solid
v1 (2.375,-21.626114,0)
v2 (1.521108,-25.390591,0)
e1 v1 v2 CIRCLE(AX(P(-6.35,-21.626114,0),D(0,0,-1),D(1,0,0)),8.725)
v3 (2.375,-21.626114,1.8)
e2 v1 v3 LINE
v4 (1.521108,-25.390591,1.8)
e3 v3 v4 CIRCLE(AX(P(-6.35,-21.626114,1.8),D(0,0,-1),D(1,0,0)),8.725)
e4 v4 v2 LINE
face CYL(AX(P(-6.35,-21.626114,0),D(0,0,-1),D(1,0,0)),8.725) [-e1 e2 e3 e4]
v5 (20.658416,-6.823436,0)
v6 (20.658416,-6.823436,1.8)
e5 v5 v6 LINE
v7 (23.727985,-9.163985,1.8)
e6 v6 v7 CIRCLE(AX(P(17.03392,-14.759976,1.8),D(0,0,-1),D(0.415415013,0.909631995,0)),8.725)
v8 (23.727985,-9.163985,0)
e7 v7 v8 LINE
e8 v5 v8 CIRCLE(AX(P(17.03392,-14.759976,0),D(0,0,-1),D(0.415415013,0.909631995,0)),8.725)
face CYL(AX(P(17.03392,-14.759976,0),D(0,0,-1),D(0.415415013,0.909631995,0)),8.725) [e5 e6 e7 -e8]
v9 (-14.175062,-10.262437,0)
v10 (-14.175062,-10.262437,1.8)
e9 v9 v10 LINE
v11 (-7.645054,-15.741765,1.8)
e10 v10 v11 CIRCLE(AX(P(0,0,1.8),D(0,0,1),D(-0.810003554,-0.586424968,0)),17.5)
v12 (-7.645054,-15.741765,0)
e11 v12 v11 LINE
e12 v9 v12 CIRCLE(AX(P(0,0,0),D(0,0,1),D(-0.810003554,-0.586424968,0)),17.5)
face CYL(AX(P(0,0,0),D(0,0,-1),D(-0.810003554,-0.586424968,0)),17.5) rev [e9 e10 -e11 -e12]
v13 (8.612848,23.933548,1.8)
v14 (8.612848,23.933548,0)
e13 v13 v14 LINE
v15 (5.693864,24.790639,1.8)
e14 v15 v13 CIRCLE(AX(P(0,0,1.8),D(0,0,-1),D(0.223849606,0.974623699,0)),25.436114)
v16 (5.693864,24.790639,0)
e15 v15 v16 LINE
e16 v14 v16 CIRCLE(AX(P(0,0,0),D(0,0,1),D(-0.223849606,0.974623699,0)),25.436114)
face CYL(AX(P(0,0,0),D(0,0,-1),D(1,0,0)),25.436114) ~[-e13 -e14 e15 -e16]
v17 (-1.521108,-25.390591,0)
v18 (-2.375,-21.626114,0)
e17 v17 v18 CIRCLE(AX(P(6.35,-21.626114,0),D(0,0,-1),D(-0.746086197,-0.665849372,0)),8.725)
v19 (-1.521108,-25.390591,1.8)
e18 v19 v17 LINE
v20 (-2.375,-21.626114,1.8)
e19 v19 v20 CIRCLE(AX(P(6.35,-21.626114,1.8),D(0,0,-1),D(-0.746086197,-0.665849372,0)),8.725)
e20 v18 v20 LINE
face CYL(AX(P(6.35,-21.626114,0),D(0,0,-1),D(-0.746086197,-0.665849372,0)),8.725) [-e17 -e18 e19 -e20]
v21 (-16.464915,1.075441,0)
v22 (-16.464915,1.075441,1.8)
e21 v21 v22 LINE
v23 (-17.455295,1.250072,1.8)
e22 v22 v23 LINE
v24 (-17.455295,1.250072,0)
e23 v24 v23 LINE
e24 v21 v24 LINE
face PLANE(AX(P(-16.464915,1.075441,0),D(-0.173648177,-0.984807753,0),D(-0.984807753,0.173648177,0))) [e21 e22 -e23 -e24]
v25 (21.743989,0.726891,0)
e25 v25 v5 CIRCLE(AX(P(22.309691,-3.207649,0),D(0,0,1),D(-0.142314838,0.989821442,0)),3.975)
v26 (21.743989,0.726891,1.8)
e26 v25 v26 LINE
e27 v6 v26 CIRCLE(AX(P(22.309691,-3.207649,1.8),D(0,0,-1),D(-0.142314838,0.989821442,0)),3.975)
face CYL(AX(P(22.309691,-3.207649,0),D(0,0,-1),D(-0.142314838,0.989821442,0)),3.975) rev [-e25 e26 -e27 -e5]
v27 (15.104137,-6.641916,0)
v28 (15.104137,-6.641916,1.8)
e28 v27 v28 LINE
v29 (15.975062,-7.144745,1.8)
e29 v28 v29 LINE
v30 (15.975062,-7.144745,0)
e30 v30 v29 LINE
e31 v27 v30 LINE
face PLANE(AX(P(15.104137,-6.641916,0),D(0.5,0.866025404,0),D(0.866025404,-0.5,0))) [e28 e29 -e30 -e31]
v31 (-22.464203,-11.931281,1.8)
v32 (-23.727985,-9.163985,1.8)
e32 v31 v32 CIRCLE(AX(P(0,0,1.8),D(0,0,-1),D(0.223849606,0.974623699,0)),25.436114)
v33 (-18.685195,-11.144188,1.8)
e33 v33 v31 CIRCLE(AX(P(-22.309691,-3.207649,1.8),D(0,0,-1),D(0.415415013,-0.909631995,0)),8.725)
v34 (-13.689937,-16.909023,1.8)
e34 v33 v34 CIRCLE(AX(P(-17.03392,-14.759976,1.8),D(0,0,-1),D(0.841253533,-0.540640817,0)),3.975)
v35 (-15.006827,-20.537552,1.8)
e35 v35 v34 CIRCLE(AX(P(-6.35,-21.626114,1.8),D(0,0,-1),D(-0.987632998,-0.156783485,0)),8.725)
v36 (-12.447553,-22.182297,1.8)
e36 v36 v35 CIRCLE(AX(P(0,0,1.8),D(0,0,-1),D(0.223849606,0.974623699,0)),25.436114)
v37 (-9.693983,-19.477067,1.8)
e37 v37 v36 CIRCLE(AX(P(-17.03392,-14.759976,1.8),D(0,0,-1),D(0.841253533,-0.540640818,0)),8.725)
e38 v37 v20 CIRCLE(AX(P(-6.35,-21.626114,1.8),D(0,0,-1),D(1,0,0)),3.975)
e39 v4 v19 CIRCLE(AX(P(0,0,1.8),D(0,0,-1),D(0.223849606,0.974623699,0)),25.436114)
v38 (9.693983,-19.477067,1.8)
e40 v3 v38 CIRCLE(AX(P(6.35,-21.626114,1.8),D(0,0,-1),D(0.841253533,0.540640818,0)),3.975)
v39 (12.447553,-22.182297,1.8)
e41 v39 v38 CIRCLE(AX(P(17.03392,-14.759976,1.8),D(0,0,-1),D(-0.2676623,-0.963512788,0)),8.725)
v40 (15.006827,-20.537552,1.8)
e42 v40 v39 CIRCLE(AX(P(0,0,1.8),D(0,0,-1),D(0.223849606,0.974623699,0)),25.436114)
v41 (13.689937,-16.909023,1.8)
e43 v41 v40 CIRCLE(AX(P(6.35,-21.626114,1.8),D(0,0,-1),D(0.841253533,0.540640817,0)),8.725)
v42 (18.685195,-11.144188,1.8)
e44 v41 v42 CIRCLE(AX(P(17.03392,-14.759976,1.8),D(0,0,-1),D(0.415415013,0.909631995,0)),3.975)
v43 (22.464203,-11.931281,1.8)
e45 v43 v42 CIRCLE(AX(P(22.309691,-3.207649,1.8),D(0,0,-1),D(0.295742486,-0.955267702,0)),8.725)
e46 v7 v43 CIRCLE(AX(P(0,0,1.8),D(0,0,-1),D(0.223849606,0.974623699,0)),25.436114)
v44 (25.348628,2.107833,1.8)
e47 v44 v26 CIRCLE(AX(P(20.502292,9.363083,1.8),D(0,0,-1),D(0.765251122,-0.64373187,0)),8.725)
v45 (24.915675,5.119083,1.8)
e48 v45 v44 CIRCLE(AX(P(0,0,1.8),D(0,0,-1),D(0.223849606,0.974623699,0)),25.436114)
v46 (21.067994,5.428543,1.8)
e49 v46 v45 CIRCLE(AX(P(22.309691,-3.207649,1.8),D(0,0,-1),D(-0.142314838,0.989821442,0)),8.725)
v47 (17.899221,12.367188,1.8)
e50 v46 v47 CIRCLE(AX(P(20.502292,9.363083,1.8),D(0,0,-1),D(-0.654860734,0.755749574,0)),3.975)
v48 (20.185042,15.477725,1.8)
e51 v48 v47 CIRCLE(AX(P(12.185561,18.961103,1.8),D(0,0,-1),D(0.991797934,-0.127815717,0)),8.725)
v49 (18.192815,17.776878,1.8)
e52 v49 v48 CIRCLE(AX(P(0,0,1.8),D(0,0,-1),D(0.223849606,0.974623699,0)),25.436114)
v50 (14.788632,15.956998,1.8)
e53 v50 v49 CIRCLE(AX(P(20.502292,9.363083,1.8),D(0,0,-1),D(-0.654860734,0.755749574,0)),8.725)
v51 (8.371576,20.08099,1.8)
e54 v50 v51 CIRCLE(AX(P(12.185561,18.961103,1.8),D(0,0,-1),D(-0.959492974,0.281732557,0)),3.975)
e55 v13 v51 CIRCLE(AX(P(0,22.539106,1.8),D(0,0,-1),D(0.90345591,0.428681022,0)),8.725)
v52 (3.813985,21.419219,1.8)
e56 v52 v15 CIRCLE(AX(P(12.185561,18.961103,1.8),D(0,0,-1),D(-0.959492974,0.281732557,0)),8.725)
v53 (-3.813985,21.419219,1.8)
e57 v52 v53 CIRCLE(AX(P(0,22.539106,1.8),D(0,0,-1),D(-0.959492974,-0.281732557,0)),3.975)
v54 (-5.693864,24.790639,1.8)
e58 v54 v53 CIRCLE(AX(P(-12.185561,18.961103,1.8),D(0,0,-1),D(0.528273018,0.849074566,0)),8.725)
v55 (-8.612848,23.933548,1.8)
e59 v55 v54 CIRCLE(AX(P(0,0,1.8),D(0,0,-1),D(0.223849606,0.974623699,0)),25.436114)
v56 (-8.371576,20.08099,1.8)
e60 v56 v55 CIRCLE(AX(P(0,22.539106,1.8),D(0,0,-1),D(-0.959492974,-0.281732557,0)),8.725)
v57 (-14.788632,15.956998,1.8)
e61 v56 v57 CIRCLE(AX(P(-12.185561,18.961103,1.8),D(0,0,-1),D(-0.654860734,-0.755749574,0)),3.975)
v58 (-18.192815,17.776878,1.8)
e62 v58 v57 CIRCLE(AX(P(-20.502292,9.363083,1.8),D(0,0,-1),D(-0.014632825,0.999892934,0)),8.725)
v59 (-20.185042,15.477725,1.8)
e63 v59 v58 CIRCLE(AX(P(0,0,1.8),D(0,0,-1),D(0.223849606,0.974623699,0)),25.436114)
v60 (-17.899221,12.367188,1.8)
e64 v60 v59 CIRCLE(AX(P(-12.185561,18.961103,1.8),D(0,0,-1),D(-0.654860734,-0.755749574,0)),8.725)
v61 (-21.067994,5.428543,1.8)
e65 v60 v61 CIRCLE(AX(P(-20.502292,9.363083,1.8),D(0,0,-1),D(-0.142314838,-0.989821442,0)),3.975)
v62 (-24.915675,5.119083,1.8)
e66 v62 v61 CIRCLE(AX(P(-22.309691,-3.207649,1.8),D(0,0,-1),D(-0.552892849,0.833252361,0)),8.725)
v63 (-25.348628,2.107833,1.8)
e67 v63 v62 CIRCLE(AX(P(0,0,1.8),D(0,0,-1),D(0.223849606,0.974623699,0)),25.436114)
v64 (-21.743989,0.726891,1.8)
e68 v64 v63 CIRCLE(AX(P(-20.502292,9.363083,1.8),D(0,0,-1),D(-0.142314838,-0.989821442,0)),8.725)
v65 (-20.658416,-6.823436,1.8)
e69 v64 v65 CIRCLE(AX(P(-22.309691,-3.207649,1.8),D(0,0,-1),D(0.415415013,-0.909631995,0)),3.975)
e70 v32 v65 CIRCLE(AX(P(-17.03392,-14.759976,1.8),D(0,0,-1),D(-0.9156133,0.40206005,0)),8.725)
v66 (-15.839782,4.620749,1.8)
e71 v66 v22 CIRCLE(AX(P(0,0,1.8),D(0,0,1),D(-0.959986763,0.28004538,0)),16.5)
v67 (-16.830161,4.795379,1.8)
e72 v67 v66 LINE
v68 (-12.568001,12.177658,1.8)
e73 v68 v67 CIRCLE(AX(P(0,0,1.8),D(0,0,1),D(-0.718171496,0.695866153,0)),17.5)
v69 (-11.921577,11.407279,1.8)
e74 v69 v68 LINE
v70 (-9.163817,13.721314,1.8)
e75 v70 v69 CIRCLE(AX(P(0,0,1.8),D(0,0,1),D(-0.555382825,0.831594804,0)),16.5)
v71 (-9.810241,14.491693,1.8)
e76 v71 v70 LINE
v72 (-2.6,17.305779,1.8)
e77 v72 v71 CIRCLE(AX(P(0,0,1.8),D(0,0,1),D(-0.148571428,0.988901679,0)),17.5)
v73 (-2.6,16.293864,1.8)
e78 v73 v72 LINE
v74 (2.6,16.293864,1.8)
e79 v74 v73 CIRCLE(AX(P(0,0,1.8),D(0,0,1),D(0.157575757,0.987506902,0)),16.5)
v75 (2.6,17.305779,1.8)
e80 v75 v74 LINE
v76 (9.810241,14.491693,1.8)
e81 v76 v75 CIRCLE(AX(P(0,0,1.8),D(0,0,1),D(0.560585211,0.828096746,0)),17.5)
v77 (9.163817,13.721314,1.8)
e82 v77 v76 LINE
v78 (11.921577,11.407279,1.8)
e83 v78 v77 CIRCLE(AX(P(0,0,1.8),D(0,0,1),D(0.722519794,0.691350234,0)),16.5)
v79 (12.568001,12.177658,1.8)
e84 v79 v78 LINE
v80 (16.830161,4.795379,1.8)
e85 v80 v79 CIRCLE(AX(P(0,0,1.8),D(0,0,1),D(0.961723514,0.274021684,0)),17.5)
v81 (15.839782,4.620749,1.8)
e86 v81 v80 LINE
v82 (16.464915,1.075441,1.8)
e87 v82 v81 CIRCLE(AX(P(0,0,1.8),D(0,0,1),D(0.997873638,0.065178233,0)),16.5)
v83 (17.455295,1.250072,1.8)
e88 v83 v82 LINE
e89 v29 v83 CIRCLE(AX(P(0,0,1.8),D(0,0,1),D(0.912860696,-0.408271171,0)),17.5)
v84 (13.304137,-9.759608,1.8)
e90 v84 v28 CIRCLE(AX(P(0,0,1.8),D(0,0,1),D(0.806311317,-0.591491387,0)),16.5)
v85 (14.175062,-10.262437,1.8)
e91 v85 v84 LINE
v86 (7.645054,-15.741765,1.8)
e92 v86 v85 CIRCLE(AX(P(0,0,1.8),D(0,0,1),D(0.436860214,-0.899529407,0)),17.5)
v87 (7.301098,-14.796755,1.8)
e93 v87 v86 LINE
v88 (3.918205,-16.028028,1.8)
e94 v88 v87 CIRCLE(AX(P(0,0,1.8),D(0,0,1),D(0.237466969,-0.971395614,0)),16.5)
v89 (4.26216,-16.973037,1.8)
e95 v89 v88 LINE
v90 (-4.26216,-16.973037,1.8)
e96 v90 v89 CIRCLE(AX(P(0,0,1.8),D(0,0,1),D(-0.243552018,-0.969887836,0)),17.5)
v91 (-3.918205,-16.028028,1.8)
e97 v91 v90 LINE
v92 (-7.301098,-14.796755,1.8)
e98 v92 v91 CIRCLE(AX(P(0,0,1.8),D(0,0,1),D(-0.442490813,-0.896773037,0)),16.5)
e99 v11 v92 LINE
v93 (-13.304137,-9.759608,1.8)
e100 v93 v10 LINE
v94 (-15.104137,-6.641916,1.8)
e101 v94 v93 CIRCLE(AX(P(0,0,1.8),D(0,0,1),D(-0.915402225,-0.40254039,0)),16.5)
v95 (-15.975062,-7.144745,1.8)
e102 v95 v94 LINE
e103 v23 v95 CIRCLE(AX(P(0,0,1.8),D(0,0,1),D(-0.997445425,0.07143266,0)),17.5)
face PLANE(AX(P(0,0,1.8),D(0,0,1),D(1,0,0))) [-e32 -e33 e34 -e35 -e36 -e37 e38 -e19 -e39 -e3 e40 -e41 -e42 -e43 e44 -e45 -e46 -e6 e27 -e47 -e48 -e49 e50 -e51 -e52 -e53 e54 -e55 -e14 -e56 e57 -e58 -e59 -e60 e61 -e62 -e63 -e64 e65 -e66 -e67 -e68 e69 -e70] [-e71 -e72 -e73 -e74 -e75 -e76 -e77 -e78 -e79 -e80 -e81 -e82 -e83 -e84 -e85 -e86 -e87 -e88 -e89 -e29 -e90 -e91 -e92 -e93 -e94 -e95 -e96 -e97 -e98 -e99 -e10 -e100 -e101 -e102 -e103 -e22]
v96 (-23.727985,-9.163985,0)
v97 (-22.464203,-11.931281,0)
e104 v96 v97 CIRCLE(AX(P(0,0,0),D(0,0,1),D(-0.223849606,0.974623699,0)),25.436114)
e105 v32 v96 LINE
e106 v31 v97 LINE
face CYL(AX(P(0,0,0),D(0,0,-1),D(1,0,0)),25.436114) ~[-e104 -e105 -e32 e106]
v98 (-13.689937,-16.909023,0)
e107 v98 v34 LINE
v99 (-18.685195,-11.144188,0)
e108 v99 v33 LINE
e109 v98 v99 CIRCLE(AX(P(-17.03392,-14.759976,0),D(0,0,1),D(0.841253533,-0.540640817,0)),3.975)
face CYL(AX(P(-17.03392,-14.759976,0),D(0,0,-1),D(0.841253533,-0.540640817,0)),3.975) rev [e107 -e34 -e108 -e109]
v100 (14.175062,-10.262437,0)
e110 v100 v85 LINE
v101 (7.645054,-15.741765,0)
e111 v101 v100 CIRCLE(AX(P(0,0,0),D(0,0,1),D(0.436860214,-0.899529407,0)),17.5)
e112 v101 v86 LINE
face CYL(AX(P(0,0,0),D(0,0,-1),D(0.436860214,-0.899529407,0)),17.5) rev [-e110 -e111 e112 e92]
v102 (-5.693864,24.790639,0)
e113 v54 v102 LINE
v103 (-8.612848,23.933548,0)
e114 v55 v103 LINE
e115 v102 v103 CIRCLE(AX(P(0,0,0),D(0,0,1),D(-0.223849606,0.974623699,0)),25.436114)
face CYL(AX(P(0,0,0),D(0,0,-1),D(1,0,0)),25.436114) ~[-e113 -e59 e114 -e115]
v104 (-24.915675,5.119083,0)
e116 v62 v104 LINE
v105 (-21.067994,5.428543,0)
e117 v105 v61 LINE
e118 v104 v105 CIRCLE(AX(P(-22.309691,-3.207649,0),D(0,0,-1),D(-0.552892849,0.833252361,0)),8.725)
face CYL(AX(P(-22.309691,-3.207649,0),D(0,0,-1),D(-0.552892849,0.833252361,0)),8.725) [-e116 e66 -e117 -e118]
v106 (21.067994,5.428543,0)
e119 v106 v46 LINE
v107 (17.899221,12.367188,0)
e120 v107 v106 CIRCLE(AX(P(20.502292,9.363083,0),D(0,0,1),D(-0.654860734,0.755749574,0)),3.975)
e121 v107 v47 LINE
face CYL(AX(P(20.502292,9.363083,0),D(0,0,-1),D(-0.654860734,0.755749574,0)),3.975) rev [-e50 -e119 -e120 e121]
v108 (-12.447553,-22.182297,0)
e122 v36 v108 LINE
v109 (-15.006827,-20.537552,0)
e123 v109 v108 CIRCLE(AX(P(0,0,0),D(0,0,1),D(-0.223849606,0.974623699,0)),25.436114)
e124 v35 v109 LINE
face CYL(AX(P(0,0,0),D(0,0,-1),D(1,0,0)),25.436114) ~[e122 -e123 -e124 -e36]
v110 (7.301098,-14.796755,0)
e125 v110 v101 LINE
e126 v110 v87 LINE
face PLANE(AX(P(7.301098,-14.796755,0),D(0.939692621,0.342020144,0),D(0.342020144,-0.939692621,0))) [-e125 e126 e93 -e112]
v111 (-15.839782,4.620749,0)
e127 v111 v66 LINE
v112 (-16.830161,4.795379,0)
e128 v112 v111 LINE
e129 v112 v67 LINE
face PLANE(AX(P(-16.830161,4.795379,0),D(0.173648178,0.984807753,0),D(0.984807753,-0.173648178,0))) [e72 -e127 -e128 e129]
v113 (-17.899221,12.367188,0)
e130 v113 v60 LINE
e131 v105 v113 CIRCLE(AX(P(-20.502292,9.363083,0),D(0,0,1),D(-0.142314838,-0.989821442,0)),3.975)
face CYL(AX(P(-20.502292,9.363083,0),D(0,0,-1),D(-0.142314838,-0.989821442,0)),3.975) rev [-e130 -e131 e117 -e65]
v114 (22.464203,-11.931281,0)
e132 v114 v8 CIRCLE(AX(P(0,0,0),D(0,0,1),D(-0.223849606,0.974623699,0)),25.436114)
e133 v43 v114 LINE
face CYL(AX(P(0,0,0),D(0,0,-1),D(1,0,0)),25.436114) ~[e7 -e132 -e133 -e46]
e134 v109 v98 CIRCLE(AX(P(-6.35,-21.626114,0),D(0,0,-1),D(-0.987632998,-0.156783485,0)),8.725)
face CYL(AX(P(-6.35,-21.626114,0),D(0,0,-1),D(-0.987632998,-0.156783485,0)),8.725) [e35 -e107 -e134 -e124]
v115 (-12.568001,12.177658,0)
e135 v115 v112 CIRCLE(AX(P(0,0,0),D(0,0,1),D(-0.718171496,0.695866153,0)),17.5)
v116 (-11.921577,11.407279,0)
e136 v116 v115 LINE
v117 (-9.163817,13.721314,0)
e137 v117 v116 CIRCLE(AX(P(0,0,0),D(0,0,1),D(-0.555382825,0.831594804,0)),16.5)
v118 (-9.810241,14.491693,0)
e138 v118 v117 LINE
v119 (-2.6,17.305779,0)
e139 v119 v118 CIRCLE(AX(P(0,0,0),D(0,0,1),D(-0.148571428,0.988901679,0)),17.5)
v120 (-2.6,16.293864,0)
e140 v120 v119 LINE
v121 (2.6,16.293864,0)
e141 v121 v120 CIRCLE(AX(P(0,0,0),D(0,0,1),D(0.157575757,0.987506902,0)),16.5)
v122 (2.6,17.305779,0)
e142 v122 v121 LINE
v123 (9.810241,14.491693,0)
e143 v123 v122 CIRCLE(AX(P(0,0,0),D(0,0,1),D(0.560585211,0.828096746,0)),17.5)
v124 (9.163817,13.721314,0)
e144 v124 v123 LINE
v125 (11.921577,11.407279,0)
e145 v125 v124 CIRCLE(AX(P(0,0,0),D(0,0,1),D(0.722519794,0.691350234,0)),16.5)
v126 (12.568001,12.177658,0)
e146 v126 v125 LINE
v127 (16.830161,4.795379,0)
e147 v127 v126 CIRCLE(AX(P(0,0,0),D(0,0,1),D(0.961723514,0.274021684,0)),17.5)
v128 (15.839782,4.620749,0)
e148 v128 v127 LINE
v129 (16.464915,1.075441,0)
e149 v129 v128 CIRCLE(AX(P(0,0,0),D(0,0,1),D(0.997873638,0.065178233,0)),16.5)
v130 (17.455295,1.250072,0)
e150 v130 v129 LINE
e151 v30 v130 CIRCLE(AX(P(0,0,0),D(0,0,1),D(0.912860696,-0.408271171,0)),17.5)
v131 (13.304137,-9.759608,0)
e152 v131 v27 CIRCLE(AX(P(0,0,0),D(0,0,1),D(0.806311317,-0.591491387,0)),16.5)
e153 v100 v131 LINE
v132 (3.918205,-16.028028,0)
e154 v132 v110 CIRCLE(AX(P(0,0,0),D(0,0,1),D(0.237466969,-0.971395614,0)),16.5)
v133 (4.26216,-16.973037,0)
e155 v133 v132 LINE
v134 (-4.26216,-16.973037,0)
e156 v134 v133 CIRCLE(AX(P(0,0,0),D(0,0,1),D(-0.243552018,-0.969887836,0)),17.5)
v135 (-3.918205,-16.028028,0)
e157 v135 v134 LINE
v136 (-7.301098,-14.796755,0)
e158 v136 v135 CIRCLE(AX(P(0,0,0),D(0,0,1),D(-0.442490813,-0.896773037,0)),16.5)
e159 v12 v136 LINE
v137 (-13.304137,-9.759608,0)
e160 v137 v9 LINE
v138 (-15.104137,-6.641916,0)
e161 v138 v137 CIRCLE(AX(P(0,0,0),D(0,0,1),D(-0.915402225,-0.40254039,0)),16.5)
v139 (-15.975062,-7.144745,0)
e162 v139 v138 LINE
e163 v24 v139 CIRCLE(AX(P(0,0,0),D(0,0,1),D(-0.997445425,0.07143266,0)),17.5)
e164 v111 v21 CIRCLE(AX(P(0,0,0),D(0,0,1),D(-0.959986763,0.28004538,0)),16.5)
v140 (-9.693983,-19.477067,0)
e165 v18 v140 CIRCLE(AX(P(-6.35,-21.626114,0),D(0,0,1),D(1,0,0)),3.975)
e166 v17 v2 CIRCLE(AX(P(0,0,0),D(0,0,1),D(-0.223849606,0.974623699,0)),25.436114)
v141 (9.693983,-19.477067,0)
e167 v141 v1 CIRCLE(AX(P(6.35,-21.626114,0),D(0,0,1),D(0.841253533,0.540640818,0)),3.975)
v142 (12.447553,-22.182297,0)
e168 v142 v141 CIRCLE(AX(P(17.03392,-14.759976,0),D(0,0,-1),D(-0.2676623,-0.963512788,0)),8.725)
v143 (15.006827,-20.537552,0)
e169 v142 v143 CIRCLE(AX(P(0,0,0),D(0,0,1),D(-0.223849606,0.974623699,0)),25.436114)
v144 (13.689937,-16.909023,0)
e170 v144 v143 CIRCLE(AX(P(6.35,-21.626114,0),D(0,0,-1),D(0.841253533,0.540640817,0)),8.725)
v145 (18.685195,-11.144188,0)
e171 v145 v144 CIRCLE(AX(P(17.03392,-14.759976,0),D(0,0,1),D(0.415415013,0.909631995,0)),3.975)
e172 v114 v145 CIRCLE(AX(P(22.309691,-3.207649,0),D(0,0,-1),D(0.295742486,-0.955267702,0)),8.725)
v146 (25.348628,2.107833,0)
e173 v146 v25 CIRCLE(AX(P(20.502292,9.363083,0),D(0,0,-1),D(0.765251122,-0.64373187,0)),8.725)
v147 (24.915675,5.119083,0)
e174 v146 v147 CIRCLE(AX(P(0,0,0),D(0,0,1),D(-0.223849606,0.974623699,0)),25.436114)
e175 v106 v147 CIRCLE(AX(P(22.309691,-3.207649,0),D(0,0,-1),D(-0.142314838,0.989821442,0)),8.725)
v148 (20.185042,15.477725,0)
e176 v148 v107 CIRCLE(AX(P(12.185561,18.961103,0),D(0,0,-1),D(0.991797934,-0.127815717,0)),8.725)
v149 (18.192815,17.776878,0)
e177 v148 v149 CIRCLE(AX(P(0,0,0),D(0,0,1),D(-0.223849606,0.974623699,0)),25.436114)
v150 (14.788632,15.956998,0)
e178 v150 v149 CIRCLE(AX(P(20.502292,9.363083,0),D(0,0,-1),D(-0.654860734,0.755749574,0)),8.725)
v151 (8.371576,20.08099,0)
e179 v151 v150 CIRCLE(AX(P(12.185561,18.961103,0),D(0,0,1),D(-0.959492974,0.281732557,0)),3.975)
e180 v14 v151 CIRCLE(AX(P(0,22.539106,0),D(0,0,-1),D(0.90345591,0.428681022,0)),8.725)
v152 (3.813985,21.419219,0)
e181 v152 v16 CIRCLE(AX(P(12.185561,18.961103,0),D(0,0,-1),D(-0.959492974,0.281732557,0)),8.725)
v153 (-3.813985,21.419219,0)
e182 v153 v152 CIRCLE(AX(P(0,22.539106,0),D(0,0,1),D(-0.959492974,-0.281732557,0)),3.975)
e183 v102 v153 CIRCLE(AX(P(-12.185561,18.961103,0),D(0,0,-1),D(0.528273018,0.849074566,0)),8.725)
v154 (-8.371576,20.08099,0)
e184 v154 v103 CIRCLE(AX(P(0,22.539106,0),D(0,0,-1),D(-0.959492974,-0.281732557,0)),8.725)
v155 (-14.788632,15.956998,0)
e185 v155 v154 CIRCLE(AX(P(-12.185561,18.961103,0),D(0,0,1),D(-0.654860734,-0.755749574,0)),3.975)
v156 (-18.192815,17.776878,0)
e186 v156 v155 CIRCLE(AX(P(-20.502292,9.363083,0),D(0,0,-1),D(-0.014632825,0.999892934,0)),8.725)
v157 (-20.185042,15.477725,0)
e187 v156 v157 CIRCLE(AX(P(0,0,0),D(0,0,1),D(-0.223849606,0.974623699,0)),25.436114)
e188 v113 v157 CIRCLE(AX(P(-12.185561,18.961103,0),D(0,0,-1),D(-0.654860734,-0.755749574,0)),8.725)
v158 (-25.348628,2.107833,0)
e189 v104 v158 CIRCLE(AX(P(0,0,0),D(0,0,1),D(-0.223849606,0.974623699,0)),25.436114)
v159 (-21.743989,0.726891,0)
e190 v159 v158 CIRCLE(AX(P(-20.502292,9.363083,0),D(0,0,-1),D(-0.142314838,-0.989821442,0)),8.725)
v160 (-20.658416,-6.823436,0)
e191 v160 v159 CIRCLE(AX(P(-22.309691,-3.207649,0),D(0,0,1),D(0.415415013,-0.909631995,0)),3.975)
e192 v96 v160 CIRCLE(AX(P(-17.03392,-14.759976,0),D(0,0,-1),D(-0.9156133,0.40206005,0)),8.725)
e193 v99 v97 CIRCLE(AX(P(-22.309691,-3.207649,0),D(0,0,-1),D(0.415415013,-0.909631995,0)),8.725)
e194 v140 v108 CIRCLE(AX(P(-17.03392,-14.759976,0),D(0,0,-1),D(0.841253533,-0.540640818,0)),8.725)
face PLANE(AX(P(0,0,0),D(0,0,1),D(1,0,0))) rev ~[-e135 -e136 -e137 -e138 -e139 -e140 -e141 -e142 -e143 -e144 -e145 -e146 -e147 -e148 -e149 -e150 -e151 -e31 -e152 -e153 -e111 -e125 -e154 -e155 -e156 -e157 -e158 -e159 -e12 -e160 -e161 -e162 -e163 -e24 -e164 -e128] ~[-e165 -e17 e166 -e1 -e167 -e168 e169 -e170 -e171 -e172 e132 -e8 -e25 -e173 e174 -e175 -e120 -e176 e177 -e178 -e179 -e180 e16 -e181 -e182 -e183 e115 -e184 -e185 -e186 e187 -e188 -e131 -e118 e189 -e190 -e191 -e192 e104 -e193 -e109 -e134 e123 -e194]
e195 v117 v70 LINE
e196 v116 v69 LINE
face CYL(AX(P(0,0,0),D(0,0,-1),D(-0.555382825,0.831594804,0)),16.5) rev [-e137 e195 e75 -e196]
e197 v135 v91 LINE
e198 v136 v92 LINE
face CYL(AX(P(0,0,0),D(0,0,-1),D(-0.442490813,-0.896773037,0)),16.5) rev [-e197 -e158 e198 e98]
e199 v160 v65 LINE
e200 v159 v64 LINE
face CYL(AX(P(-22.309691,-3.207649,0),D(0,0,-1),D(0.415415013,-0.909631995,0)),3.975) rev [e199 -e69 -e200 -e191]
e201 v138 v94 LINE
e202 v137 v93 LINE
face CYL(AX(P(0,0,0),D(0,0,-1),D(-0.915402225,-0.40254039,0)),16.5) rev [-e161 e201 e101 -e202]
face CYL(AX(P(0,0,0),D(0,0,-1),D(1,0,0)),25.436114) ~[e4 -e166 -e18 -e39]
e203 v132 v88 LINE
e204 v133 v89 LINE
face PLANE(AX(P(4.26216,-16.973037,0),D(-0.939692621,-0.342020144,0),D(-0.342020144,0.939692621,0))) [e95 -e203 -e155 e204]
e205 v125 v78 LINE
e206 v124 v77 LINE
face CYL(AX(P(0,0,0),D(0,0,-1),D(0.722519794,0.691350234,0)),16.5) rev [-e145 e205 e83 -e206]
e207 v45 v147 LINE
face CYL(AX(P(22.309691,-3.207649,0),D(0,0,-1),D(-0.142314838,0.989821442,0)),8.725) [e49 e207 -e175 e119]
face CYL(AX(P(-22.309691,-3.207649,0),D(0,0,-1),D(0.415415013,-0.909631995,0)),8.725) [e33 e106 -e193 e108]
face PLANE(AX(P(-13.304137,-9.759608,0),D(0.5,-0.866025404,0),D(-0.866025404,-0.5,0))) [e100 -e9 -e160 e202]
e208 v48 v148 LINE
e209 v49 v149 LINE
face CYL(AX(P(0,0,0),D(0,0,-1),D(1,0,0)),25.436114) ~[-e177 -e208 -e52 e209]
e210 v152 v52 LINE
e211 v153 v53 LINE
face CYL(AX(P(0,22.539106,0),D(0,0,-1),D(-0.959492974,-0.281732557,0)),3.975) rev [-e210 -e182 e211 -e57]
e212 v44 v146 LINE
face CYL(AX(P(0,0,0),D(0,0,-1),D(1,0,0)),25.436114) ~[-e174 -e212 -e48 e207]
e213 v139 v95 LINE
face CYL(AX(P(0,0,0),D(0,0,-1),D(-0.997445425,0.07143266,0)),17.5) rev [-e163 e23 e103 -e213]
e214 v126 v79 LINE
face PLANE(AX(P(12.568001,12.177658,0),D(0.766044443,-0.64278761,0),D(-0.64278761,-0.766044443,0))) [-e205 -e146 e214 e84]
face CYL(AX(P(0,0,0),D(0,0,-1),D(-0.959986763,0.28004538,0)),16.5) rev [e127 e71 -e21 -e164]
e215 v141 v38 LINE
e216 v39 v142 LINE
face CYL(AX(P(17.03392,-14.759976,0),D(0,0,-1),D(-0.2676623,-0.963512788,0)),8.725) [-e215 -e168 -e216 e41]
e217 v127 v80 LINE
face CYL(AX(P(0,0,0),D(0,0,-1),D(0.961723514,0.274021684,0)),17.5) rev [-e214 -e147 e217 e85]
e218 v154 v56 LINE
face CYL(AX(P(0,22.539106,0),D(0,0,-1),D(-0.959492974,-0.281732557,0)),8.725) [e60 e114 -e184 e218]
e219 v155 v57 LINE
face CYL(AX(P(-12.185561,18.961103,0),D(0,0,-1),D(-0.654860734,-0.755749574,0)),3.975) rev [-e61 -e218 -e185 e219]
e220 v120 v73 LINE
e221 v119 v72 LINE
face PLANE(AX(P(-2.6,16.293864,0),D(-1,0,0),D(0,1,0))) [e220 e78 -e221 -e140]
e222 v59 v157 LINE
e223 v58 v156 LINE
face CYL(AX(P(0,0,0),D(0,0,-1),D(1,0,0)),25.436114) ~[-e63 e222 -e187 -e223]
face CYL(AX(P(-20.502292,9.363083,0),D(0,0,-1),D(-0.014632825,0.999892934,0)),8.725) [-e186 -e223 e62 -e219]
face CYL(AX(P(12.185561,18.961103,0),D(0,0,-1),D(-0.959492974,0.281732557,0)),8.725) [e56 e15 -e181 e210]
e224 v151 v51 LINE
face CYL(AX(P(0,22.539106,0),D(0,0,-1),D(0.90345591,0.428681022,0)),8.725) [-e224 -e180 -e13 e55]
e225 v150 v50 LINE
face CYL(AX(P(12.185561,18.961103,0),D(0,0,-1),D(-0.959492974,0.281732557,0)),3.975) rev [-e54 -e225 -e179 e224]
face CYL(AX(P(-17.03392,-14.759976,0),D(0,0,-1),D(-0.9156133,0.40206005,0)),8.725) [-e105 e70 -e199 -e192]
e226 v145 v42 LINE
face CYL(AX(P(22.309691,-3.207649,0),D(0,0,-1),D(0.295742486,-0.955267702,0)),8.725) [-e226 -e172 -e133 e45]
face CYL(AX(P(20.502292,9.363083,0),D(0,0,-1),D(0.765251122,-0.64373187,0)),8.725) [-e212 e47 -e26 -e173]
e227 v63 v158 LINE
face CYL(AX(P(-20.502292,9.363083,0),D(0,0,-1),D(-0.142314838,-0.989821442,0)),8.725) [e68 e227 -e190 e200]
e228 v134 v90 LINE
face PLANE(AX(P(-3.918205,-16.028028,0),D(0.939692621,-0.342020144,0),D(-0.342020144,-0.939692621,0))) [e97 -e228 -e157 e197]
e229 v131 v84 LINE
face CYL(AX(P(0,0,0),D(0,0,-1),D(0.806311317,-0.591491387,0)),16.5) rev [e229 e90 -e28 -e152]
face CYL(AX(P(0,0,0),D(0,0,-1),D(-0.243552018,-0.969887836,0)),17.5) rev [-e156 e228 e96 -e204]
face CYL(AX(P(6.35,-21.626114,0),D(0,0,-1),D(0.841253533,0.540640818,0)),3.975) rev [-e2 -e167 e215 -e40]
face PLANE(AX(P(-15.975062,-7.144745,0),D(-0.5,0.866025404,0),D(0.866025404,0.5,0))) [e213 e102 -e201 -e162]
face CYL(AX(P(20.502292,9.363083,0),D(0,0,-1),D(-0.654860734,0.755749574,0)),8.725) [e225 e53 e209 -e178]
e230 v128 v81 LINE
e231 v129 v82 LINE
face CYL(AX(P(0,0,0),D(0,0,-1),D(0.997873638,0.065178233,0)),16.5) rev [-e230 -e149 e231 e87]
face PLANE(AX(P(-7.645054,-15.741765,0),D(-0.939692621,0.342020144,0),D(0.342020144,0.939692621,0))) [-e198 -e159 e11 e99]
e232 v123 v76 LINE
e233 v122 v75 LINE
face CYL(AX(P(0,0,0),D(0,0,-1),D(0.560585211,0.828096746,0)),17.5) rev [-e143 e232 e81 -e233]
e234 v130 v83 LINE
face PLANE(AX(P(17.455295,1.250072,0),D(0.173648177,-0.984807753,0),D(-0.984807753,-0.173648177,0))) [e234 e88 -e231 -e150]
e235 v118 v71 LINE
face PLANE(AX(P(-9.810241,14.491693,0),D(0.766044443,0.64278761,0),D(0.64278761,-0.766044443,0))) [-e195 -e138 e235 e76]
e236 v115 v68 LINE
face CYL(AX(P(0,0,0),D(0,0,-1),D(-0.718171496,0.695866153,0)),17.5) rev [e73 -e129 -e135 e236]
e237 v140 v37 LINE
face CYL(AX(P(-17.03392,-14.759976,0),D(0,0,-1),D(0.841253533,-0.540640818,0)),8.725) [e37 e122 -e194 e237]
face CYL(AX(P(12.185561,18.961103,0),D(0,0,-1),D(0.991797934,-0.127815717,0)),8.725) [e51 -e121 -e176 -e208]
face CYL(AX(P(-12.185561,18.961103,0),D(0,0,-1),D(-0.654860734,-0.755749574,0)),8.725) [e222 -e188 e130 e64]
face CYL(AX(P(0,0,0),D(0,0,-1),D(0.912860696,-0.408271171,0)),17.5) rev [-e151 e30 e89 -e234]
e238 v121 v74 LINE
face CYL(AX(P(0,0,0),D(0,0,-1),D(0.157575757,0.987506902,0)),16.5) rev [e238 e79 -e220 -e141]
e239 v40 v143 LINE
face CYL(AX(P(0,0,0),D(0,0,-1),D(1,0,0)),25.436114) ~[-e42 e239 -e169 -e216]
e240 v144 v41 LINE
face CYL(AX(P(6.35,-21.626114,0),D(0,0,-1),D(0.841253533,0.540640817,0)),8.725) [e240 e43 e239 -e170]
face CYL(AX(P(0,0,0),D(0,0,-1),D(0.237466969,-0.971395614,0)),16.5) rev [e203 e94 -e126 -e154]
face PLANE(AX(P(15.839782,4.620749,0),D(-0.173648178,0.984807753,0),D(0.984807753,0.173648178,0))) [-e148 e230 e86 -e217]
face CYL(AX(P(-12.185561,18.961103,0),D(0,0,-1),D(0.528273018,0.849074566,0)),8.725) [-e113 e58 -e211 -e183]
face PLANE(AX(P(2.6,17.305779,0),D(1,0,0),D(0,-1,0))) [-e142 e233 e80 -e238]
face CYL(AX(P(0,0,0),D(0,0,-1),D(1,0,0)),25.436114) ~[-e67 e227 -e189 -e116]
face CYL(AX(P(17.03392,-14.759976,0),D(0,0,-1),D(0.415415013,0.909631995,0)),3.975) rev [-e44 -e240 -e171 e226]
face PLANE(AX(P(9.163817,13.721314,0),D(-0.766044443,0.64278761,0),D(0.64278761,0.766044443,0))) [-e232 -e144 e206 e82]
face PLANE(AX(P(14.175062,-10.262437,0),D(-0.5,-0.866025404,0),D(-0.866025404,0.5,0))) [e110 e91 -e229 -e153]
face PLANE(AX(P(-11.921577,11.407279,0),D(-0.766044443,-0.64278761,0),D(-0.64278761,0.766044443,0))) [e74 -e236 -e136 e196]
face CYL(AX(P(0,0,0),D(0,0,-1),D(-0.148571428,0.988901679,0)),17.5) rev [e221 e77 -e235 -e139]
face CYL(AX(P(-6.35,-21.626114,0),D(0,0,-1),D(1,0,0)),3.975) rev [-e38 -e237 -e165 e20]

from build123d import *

# Parameters (mm, degrees)
SK_DISCO_R           = 25.436113967
DISCO_DEPTH          = 1.8
HUECO_DIENTE_DEPTH   = 37.017104096
MATRIZ_DIENTES_COUNT = 11


with BuildPart() as part:
    # Sk_Disco → Disco (new body)
    with BuildSketch(Plane.XY):
        Circle(SK_DISCO_R)
        with BuildLine():
            Line((2.6, 17.305779381), (2.6, 16.293863876))
            ThreePointArc((2.6, 16.293863876), (0, 16.5), (-2.6, 16.293863876))
            Line((-2.6, 16.293863876), (-2.6, 17.305779381))
            ThreePointArc((-2.6, 17.305779381), (-6.362648192, 16.302352836), (-9.810241185, 14.491693065))
            Line((-9.810241185, 14.491693065), (-9.163816615, 13.721314261))
            ThreePointArc((-9.163816615, 13.721314261), (-10.60599556, 12.639733311), (-11.92157661, 11.407278866))
            Line((-11.92157661, 11.407278866), (-12.56800118, 12.17765767))
            ThreePointArc((-12.56800118, 12.17765767), (-15.155444566, 8.75), (-16.830161491, 4.795379462))
            Line((-16.830161491, 4.795379462), (-15.839781591, 4.620748764))
            ThreePointArc((-15.839781591, 4.620748764), (-16.249327925, 2.865194932), (-16.464915031, 1.075440854))
            Line((-16.464915031, 1.075440854), (-17.455294931, 1.250071551))
            ThreePointArc((-17.455294931, 1.250071551), (-17.234135678, -3.038843109), (-15.975062189, -7.144745486))
            Line((-15.975062189, -7.144745486), (-15.104136721, -6.641916433))
            ThreePointArc((-15.104136721, -6.641916433), (-14.289419162, -8.25), (-13.304136721, -9.759607887))
            Line((-13.304136721, -9.759607887), (-14.175062189, -10.26243694))
            ThreePointArc((-14.175062189, -10.26243694), (-11.24878317, -13.405777755), (-7.645053746, -15.741764616))
            Line((-7.645053746, -15.741764616), (-7.301098416, -14.796755115))
            ThreePointArc((-7.301098416, -14.796755115), (-5.643332365, -15.504928243), (-3.918204981, -16.028027631))
            Line((-3.918204981, -16.028027631), (-4.262160311, -16.973037132))
            ThreePointArc((-4.262160311, -16.973037132), (0, -17.5), (4.262160311, -16.973037132))
            Line((4.262160311, -16.973037132), (3.918204981, -16.028027631))
            ThreePointArc((3.918204981, -16.028027631), (5.643332365, -15.504928243), (7.301098416, -14.796755115))
            Line((7.301098416, -14.796755115), (7.645053746, -15.741764616))
            ThreePointArc((7.645053746, -15.741764616), (11.24878317, -13.405777755), (14.175062189, -10.26243694))
            Line((14.175062189, -10.26243694), (13.304136721, -9.759607887))
            ThreePointArc((13.304136721, -9.759607887), (14.289419162, -8.25), (15.104136721, -6.641916433))
            Line((15.104136721, -6.641916433), (15.975062189, -7.144745486))
            ThreePointArc((15.975062189, -7.144745486), (17.234135678, -3.038843109), (17.455294931, 1.250071551))
            Line((17.455294931, 1.250071551), (16.464915031, 1.075440854))
            ThreePointArc((16.464915031, 1.075440854), (16.249327925, 2.865194932), (15.839781591, 4.620748764))
            Line((15.839781591, 4.620748764), (16.830161491, 4.795379462))
            ThreePointArc((16.830161491, 4.795379462), (15.155444566, 8.75), (12.56800118, 12.17765767))
            Line((12.56800118, 12.17765767), (11.92157661, 11.407278866))
            ThreePointArc((11.92157661, 11.407278866), (10.60599556, 12.639733311), (9.163816615, 13.721314261))
            Line((9.163816615, 13.721314261), (9.810241185, 14.491693065))
            ThreePointArc((9.810241185, 14.491693065), (6.362648192, 16.302352836), (2.6, 17.305779381))
        make_face(mode=Mode.SUBTRACT)
    extrude(amount=DISCO_DEPTH)

    # Sk_Hueco → Hueco_diente (cut, through all)
    with BuildSketch(Plane.XY):
        with BuildLine():
            ThreePointArc((-3.81398457, 21.41921922), (0, 18.564106134), (3.81398457, 21.41921922))
            ThreePointArc((3.81398457, 21.41921922), (5.23928173, 24.240764826), (7.576378688, 26.369278253))
            ThreePointArc((7.576378688, 26.369278253), (0, 27.436113967), (-7.576378688, 26.369278253))
            ThreePointArc((-7.576378688, 26.369278253), (-5.23928173, 24.240764826), (-3.81398457, 21.41921922))
        make_face()
    hueco_diente = extrude(amount=HUECO_DIENTE_DEPTH, mode=Mode.SUBTRACT)

    # Matriz_dientes: Hueco_diente ×11 about axis
    matriz_dientes_axis = Axis((0, 0, -0.09), (0, 0, 1))
    for i in range(1, MATRIZ_DIENTES_COUNT):
        add(hueco_diente.rotate(matriz_dientes_axis, i * 360 / MATRIZ_DIENTES_COUNT), mode=Mode.SUBTRACT)


solid = part.part
